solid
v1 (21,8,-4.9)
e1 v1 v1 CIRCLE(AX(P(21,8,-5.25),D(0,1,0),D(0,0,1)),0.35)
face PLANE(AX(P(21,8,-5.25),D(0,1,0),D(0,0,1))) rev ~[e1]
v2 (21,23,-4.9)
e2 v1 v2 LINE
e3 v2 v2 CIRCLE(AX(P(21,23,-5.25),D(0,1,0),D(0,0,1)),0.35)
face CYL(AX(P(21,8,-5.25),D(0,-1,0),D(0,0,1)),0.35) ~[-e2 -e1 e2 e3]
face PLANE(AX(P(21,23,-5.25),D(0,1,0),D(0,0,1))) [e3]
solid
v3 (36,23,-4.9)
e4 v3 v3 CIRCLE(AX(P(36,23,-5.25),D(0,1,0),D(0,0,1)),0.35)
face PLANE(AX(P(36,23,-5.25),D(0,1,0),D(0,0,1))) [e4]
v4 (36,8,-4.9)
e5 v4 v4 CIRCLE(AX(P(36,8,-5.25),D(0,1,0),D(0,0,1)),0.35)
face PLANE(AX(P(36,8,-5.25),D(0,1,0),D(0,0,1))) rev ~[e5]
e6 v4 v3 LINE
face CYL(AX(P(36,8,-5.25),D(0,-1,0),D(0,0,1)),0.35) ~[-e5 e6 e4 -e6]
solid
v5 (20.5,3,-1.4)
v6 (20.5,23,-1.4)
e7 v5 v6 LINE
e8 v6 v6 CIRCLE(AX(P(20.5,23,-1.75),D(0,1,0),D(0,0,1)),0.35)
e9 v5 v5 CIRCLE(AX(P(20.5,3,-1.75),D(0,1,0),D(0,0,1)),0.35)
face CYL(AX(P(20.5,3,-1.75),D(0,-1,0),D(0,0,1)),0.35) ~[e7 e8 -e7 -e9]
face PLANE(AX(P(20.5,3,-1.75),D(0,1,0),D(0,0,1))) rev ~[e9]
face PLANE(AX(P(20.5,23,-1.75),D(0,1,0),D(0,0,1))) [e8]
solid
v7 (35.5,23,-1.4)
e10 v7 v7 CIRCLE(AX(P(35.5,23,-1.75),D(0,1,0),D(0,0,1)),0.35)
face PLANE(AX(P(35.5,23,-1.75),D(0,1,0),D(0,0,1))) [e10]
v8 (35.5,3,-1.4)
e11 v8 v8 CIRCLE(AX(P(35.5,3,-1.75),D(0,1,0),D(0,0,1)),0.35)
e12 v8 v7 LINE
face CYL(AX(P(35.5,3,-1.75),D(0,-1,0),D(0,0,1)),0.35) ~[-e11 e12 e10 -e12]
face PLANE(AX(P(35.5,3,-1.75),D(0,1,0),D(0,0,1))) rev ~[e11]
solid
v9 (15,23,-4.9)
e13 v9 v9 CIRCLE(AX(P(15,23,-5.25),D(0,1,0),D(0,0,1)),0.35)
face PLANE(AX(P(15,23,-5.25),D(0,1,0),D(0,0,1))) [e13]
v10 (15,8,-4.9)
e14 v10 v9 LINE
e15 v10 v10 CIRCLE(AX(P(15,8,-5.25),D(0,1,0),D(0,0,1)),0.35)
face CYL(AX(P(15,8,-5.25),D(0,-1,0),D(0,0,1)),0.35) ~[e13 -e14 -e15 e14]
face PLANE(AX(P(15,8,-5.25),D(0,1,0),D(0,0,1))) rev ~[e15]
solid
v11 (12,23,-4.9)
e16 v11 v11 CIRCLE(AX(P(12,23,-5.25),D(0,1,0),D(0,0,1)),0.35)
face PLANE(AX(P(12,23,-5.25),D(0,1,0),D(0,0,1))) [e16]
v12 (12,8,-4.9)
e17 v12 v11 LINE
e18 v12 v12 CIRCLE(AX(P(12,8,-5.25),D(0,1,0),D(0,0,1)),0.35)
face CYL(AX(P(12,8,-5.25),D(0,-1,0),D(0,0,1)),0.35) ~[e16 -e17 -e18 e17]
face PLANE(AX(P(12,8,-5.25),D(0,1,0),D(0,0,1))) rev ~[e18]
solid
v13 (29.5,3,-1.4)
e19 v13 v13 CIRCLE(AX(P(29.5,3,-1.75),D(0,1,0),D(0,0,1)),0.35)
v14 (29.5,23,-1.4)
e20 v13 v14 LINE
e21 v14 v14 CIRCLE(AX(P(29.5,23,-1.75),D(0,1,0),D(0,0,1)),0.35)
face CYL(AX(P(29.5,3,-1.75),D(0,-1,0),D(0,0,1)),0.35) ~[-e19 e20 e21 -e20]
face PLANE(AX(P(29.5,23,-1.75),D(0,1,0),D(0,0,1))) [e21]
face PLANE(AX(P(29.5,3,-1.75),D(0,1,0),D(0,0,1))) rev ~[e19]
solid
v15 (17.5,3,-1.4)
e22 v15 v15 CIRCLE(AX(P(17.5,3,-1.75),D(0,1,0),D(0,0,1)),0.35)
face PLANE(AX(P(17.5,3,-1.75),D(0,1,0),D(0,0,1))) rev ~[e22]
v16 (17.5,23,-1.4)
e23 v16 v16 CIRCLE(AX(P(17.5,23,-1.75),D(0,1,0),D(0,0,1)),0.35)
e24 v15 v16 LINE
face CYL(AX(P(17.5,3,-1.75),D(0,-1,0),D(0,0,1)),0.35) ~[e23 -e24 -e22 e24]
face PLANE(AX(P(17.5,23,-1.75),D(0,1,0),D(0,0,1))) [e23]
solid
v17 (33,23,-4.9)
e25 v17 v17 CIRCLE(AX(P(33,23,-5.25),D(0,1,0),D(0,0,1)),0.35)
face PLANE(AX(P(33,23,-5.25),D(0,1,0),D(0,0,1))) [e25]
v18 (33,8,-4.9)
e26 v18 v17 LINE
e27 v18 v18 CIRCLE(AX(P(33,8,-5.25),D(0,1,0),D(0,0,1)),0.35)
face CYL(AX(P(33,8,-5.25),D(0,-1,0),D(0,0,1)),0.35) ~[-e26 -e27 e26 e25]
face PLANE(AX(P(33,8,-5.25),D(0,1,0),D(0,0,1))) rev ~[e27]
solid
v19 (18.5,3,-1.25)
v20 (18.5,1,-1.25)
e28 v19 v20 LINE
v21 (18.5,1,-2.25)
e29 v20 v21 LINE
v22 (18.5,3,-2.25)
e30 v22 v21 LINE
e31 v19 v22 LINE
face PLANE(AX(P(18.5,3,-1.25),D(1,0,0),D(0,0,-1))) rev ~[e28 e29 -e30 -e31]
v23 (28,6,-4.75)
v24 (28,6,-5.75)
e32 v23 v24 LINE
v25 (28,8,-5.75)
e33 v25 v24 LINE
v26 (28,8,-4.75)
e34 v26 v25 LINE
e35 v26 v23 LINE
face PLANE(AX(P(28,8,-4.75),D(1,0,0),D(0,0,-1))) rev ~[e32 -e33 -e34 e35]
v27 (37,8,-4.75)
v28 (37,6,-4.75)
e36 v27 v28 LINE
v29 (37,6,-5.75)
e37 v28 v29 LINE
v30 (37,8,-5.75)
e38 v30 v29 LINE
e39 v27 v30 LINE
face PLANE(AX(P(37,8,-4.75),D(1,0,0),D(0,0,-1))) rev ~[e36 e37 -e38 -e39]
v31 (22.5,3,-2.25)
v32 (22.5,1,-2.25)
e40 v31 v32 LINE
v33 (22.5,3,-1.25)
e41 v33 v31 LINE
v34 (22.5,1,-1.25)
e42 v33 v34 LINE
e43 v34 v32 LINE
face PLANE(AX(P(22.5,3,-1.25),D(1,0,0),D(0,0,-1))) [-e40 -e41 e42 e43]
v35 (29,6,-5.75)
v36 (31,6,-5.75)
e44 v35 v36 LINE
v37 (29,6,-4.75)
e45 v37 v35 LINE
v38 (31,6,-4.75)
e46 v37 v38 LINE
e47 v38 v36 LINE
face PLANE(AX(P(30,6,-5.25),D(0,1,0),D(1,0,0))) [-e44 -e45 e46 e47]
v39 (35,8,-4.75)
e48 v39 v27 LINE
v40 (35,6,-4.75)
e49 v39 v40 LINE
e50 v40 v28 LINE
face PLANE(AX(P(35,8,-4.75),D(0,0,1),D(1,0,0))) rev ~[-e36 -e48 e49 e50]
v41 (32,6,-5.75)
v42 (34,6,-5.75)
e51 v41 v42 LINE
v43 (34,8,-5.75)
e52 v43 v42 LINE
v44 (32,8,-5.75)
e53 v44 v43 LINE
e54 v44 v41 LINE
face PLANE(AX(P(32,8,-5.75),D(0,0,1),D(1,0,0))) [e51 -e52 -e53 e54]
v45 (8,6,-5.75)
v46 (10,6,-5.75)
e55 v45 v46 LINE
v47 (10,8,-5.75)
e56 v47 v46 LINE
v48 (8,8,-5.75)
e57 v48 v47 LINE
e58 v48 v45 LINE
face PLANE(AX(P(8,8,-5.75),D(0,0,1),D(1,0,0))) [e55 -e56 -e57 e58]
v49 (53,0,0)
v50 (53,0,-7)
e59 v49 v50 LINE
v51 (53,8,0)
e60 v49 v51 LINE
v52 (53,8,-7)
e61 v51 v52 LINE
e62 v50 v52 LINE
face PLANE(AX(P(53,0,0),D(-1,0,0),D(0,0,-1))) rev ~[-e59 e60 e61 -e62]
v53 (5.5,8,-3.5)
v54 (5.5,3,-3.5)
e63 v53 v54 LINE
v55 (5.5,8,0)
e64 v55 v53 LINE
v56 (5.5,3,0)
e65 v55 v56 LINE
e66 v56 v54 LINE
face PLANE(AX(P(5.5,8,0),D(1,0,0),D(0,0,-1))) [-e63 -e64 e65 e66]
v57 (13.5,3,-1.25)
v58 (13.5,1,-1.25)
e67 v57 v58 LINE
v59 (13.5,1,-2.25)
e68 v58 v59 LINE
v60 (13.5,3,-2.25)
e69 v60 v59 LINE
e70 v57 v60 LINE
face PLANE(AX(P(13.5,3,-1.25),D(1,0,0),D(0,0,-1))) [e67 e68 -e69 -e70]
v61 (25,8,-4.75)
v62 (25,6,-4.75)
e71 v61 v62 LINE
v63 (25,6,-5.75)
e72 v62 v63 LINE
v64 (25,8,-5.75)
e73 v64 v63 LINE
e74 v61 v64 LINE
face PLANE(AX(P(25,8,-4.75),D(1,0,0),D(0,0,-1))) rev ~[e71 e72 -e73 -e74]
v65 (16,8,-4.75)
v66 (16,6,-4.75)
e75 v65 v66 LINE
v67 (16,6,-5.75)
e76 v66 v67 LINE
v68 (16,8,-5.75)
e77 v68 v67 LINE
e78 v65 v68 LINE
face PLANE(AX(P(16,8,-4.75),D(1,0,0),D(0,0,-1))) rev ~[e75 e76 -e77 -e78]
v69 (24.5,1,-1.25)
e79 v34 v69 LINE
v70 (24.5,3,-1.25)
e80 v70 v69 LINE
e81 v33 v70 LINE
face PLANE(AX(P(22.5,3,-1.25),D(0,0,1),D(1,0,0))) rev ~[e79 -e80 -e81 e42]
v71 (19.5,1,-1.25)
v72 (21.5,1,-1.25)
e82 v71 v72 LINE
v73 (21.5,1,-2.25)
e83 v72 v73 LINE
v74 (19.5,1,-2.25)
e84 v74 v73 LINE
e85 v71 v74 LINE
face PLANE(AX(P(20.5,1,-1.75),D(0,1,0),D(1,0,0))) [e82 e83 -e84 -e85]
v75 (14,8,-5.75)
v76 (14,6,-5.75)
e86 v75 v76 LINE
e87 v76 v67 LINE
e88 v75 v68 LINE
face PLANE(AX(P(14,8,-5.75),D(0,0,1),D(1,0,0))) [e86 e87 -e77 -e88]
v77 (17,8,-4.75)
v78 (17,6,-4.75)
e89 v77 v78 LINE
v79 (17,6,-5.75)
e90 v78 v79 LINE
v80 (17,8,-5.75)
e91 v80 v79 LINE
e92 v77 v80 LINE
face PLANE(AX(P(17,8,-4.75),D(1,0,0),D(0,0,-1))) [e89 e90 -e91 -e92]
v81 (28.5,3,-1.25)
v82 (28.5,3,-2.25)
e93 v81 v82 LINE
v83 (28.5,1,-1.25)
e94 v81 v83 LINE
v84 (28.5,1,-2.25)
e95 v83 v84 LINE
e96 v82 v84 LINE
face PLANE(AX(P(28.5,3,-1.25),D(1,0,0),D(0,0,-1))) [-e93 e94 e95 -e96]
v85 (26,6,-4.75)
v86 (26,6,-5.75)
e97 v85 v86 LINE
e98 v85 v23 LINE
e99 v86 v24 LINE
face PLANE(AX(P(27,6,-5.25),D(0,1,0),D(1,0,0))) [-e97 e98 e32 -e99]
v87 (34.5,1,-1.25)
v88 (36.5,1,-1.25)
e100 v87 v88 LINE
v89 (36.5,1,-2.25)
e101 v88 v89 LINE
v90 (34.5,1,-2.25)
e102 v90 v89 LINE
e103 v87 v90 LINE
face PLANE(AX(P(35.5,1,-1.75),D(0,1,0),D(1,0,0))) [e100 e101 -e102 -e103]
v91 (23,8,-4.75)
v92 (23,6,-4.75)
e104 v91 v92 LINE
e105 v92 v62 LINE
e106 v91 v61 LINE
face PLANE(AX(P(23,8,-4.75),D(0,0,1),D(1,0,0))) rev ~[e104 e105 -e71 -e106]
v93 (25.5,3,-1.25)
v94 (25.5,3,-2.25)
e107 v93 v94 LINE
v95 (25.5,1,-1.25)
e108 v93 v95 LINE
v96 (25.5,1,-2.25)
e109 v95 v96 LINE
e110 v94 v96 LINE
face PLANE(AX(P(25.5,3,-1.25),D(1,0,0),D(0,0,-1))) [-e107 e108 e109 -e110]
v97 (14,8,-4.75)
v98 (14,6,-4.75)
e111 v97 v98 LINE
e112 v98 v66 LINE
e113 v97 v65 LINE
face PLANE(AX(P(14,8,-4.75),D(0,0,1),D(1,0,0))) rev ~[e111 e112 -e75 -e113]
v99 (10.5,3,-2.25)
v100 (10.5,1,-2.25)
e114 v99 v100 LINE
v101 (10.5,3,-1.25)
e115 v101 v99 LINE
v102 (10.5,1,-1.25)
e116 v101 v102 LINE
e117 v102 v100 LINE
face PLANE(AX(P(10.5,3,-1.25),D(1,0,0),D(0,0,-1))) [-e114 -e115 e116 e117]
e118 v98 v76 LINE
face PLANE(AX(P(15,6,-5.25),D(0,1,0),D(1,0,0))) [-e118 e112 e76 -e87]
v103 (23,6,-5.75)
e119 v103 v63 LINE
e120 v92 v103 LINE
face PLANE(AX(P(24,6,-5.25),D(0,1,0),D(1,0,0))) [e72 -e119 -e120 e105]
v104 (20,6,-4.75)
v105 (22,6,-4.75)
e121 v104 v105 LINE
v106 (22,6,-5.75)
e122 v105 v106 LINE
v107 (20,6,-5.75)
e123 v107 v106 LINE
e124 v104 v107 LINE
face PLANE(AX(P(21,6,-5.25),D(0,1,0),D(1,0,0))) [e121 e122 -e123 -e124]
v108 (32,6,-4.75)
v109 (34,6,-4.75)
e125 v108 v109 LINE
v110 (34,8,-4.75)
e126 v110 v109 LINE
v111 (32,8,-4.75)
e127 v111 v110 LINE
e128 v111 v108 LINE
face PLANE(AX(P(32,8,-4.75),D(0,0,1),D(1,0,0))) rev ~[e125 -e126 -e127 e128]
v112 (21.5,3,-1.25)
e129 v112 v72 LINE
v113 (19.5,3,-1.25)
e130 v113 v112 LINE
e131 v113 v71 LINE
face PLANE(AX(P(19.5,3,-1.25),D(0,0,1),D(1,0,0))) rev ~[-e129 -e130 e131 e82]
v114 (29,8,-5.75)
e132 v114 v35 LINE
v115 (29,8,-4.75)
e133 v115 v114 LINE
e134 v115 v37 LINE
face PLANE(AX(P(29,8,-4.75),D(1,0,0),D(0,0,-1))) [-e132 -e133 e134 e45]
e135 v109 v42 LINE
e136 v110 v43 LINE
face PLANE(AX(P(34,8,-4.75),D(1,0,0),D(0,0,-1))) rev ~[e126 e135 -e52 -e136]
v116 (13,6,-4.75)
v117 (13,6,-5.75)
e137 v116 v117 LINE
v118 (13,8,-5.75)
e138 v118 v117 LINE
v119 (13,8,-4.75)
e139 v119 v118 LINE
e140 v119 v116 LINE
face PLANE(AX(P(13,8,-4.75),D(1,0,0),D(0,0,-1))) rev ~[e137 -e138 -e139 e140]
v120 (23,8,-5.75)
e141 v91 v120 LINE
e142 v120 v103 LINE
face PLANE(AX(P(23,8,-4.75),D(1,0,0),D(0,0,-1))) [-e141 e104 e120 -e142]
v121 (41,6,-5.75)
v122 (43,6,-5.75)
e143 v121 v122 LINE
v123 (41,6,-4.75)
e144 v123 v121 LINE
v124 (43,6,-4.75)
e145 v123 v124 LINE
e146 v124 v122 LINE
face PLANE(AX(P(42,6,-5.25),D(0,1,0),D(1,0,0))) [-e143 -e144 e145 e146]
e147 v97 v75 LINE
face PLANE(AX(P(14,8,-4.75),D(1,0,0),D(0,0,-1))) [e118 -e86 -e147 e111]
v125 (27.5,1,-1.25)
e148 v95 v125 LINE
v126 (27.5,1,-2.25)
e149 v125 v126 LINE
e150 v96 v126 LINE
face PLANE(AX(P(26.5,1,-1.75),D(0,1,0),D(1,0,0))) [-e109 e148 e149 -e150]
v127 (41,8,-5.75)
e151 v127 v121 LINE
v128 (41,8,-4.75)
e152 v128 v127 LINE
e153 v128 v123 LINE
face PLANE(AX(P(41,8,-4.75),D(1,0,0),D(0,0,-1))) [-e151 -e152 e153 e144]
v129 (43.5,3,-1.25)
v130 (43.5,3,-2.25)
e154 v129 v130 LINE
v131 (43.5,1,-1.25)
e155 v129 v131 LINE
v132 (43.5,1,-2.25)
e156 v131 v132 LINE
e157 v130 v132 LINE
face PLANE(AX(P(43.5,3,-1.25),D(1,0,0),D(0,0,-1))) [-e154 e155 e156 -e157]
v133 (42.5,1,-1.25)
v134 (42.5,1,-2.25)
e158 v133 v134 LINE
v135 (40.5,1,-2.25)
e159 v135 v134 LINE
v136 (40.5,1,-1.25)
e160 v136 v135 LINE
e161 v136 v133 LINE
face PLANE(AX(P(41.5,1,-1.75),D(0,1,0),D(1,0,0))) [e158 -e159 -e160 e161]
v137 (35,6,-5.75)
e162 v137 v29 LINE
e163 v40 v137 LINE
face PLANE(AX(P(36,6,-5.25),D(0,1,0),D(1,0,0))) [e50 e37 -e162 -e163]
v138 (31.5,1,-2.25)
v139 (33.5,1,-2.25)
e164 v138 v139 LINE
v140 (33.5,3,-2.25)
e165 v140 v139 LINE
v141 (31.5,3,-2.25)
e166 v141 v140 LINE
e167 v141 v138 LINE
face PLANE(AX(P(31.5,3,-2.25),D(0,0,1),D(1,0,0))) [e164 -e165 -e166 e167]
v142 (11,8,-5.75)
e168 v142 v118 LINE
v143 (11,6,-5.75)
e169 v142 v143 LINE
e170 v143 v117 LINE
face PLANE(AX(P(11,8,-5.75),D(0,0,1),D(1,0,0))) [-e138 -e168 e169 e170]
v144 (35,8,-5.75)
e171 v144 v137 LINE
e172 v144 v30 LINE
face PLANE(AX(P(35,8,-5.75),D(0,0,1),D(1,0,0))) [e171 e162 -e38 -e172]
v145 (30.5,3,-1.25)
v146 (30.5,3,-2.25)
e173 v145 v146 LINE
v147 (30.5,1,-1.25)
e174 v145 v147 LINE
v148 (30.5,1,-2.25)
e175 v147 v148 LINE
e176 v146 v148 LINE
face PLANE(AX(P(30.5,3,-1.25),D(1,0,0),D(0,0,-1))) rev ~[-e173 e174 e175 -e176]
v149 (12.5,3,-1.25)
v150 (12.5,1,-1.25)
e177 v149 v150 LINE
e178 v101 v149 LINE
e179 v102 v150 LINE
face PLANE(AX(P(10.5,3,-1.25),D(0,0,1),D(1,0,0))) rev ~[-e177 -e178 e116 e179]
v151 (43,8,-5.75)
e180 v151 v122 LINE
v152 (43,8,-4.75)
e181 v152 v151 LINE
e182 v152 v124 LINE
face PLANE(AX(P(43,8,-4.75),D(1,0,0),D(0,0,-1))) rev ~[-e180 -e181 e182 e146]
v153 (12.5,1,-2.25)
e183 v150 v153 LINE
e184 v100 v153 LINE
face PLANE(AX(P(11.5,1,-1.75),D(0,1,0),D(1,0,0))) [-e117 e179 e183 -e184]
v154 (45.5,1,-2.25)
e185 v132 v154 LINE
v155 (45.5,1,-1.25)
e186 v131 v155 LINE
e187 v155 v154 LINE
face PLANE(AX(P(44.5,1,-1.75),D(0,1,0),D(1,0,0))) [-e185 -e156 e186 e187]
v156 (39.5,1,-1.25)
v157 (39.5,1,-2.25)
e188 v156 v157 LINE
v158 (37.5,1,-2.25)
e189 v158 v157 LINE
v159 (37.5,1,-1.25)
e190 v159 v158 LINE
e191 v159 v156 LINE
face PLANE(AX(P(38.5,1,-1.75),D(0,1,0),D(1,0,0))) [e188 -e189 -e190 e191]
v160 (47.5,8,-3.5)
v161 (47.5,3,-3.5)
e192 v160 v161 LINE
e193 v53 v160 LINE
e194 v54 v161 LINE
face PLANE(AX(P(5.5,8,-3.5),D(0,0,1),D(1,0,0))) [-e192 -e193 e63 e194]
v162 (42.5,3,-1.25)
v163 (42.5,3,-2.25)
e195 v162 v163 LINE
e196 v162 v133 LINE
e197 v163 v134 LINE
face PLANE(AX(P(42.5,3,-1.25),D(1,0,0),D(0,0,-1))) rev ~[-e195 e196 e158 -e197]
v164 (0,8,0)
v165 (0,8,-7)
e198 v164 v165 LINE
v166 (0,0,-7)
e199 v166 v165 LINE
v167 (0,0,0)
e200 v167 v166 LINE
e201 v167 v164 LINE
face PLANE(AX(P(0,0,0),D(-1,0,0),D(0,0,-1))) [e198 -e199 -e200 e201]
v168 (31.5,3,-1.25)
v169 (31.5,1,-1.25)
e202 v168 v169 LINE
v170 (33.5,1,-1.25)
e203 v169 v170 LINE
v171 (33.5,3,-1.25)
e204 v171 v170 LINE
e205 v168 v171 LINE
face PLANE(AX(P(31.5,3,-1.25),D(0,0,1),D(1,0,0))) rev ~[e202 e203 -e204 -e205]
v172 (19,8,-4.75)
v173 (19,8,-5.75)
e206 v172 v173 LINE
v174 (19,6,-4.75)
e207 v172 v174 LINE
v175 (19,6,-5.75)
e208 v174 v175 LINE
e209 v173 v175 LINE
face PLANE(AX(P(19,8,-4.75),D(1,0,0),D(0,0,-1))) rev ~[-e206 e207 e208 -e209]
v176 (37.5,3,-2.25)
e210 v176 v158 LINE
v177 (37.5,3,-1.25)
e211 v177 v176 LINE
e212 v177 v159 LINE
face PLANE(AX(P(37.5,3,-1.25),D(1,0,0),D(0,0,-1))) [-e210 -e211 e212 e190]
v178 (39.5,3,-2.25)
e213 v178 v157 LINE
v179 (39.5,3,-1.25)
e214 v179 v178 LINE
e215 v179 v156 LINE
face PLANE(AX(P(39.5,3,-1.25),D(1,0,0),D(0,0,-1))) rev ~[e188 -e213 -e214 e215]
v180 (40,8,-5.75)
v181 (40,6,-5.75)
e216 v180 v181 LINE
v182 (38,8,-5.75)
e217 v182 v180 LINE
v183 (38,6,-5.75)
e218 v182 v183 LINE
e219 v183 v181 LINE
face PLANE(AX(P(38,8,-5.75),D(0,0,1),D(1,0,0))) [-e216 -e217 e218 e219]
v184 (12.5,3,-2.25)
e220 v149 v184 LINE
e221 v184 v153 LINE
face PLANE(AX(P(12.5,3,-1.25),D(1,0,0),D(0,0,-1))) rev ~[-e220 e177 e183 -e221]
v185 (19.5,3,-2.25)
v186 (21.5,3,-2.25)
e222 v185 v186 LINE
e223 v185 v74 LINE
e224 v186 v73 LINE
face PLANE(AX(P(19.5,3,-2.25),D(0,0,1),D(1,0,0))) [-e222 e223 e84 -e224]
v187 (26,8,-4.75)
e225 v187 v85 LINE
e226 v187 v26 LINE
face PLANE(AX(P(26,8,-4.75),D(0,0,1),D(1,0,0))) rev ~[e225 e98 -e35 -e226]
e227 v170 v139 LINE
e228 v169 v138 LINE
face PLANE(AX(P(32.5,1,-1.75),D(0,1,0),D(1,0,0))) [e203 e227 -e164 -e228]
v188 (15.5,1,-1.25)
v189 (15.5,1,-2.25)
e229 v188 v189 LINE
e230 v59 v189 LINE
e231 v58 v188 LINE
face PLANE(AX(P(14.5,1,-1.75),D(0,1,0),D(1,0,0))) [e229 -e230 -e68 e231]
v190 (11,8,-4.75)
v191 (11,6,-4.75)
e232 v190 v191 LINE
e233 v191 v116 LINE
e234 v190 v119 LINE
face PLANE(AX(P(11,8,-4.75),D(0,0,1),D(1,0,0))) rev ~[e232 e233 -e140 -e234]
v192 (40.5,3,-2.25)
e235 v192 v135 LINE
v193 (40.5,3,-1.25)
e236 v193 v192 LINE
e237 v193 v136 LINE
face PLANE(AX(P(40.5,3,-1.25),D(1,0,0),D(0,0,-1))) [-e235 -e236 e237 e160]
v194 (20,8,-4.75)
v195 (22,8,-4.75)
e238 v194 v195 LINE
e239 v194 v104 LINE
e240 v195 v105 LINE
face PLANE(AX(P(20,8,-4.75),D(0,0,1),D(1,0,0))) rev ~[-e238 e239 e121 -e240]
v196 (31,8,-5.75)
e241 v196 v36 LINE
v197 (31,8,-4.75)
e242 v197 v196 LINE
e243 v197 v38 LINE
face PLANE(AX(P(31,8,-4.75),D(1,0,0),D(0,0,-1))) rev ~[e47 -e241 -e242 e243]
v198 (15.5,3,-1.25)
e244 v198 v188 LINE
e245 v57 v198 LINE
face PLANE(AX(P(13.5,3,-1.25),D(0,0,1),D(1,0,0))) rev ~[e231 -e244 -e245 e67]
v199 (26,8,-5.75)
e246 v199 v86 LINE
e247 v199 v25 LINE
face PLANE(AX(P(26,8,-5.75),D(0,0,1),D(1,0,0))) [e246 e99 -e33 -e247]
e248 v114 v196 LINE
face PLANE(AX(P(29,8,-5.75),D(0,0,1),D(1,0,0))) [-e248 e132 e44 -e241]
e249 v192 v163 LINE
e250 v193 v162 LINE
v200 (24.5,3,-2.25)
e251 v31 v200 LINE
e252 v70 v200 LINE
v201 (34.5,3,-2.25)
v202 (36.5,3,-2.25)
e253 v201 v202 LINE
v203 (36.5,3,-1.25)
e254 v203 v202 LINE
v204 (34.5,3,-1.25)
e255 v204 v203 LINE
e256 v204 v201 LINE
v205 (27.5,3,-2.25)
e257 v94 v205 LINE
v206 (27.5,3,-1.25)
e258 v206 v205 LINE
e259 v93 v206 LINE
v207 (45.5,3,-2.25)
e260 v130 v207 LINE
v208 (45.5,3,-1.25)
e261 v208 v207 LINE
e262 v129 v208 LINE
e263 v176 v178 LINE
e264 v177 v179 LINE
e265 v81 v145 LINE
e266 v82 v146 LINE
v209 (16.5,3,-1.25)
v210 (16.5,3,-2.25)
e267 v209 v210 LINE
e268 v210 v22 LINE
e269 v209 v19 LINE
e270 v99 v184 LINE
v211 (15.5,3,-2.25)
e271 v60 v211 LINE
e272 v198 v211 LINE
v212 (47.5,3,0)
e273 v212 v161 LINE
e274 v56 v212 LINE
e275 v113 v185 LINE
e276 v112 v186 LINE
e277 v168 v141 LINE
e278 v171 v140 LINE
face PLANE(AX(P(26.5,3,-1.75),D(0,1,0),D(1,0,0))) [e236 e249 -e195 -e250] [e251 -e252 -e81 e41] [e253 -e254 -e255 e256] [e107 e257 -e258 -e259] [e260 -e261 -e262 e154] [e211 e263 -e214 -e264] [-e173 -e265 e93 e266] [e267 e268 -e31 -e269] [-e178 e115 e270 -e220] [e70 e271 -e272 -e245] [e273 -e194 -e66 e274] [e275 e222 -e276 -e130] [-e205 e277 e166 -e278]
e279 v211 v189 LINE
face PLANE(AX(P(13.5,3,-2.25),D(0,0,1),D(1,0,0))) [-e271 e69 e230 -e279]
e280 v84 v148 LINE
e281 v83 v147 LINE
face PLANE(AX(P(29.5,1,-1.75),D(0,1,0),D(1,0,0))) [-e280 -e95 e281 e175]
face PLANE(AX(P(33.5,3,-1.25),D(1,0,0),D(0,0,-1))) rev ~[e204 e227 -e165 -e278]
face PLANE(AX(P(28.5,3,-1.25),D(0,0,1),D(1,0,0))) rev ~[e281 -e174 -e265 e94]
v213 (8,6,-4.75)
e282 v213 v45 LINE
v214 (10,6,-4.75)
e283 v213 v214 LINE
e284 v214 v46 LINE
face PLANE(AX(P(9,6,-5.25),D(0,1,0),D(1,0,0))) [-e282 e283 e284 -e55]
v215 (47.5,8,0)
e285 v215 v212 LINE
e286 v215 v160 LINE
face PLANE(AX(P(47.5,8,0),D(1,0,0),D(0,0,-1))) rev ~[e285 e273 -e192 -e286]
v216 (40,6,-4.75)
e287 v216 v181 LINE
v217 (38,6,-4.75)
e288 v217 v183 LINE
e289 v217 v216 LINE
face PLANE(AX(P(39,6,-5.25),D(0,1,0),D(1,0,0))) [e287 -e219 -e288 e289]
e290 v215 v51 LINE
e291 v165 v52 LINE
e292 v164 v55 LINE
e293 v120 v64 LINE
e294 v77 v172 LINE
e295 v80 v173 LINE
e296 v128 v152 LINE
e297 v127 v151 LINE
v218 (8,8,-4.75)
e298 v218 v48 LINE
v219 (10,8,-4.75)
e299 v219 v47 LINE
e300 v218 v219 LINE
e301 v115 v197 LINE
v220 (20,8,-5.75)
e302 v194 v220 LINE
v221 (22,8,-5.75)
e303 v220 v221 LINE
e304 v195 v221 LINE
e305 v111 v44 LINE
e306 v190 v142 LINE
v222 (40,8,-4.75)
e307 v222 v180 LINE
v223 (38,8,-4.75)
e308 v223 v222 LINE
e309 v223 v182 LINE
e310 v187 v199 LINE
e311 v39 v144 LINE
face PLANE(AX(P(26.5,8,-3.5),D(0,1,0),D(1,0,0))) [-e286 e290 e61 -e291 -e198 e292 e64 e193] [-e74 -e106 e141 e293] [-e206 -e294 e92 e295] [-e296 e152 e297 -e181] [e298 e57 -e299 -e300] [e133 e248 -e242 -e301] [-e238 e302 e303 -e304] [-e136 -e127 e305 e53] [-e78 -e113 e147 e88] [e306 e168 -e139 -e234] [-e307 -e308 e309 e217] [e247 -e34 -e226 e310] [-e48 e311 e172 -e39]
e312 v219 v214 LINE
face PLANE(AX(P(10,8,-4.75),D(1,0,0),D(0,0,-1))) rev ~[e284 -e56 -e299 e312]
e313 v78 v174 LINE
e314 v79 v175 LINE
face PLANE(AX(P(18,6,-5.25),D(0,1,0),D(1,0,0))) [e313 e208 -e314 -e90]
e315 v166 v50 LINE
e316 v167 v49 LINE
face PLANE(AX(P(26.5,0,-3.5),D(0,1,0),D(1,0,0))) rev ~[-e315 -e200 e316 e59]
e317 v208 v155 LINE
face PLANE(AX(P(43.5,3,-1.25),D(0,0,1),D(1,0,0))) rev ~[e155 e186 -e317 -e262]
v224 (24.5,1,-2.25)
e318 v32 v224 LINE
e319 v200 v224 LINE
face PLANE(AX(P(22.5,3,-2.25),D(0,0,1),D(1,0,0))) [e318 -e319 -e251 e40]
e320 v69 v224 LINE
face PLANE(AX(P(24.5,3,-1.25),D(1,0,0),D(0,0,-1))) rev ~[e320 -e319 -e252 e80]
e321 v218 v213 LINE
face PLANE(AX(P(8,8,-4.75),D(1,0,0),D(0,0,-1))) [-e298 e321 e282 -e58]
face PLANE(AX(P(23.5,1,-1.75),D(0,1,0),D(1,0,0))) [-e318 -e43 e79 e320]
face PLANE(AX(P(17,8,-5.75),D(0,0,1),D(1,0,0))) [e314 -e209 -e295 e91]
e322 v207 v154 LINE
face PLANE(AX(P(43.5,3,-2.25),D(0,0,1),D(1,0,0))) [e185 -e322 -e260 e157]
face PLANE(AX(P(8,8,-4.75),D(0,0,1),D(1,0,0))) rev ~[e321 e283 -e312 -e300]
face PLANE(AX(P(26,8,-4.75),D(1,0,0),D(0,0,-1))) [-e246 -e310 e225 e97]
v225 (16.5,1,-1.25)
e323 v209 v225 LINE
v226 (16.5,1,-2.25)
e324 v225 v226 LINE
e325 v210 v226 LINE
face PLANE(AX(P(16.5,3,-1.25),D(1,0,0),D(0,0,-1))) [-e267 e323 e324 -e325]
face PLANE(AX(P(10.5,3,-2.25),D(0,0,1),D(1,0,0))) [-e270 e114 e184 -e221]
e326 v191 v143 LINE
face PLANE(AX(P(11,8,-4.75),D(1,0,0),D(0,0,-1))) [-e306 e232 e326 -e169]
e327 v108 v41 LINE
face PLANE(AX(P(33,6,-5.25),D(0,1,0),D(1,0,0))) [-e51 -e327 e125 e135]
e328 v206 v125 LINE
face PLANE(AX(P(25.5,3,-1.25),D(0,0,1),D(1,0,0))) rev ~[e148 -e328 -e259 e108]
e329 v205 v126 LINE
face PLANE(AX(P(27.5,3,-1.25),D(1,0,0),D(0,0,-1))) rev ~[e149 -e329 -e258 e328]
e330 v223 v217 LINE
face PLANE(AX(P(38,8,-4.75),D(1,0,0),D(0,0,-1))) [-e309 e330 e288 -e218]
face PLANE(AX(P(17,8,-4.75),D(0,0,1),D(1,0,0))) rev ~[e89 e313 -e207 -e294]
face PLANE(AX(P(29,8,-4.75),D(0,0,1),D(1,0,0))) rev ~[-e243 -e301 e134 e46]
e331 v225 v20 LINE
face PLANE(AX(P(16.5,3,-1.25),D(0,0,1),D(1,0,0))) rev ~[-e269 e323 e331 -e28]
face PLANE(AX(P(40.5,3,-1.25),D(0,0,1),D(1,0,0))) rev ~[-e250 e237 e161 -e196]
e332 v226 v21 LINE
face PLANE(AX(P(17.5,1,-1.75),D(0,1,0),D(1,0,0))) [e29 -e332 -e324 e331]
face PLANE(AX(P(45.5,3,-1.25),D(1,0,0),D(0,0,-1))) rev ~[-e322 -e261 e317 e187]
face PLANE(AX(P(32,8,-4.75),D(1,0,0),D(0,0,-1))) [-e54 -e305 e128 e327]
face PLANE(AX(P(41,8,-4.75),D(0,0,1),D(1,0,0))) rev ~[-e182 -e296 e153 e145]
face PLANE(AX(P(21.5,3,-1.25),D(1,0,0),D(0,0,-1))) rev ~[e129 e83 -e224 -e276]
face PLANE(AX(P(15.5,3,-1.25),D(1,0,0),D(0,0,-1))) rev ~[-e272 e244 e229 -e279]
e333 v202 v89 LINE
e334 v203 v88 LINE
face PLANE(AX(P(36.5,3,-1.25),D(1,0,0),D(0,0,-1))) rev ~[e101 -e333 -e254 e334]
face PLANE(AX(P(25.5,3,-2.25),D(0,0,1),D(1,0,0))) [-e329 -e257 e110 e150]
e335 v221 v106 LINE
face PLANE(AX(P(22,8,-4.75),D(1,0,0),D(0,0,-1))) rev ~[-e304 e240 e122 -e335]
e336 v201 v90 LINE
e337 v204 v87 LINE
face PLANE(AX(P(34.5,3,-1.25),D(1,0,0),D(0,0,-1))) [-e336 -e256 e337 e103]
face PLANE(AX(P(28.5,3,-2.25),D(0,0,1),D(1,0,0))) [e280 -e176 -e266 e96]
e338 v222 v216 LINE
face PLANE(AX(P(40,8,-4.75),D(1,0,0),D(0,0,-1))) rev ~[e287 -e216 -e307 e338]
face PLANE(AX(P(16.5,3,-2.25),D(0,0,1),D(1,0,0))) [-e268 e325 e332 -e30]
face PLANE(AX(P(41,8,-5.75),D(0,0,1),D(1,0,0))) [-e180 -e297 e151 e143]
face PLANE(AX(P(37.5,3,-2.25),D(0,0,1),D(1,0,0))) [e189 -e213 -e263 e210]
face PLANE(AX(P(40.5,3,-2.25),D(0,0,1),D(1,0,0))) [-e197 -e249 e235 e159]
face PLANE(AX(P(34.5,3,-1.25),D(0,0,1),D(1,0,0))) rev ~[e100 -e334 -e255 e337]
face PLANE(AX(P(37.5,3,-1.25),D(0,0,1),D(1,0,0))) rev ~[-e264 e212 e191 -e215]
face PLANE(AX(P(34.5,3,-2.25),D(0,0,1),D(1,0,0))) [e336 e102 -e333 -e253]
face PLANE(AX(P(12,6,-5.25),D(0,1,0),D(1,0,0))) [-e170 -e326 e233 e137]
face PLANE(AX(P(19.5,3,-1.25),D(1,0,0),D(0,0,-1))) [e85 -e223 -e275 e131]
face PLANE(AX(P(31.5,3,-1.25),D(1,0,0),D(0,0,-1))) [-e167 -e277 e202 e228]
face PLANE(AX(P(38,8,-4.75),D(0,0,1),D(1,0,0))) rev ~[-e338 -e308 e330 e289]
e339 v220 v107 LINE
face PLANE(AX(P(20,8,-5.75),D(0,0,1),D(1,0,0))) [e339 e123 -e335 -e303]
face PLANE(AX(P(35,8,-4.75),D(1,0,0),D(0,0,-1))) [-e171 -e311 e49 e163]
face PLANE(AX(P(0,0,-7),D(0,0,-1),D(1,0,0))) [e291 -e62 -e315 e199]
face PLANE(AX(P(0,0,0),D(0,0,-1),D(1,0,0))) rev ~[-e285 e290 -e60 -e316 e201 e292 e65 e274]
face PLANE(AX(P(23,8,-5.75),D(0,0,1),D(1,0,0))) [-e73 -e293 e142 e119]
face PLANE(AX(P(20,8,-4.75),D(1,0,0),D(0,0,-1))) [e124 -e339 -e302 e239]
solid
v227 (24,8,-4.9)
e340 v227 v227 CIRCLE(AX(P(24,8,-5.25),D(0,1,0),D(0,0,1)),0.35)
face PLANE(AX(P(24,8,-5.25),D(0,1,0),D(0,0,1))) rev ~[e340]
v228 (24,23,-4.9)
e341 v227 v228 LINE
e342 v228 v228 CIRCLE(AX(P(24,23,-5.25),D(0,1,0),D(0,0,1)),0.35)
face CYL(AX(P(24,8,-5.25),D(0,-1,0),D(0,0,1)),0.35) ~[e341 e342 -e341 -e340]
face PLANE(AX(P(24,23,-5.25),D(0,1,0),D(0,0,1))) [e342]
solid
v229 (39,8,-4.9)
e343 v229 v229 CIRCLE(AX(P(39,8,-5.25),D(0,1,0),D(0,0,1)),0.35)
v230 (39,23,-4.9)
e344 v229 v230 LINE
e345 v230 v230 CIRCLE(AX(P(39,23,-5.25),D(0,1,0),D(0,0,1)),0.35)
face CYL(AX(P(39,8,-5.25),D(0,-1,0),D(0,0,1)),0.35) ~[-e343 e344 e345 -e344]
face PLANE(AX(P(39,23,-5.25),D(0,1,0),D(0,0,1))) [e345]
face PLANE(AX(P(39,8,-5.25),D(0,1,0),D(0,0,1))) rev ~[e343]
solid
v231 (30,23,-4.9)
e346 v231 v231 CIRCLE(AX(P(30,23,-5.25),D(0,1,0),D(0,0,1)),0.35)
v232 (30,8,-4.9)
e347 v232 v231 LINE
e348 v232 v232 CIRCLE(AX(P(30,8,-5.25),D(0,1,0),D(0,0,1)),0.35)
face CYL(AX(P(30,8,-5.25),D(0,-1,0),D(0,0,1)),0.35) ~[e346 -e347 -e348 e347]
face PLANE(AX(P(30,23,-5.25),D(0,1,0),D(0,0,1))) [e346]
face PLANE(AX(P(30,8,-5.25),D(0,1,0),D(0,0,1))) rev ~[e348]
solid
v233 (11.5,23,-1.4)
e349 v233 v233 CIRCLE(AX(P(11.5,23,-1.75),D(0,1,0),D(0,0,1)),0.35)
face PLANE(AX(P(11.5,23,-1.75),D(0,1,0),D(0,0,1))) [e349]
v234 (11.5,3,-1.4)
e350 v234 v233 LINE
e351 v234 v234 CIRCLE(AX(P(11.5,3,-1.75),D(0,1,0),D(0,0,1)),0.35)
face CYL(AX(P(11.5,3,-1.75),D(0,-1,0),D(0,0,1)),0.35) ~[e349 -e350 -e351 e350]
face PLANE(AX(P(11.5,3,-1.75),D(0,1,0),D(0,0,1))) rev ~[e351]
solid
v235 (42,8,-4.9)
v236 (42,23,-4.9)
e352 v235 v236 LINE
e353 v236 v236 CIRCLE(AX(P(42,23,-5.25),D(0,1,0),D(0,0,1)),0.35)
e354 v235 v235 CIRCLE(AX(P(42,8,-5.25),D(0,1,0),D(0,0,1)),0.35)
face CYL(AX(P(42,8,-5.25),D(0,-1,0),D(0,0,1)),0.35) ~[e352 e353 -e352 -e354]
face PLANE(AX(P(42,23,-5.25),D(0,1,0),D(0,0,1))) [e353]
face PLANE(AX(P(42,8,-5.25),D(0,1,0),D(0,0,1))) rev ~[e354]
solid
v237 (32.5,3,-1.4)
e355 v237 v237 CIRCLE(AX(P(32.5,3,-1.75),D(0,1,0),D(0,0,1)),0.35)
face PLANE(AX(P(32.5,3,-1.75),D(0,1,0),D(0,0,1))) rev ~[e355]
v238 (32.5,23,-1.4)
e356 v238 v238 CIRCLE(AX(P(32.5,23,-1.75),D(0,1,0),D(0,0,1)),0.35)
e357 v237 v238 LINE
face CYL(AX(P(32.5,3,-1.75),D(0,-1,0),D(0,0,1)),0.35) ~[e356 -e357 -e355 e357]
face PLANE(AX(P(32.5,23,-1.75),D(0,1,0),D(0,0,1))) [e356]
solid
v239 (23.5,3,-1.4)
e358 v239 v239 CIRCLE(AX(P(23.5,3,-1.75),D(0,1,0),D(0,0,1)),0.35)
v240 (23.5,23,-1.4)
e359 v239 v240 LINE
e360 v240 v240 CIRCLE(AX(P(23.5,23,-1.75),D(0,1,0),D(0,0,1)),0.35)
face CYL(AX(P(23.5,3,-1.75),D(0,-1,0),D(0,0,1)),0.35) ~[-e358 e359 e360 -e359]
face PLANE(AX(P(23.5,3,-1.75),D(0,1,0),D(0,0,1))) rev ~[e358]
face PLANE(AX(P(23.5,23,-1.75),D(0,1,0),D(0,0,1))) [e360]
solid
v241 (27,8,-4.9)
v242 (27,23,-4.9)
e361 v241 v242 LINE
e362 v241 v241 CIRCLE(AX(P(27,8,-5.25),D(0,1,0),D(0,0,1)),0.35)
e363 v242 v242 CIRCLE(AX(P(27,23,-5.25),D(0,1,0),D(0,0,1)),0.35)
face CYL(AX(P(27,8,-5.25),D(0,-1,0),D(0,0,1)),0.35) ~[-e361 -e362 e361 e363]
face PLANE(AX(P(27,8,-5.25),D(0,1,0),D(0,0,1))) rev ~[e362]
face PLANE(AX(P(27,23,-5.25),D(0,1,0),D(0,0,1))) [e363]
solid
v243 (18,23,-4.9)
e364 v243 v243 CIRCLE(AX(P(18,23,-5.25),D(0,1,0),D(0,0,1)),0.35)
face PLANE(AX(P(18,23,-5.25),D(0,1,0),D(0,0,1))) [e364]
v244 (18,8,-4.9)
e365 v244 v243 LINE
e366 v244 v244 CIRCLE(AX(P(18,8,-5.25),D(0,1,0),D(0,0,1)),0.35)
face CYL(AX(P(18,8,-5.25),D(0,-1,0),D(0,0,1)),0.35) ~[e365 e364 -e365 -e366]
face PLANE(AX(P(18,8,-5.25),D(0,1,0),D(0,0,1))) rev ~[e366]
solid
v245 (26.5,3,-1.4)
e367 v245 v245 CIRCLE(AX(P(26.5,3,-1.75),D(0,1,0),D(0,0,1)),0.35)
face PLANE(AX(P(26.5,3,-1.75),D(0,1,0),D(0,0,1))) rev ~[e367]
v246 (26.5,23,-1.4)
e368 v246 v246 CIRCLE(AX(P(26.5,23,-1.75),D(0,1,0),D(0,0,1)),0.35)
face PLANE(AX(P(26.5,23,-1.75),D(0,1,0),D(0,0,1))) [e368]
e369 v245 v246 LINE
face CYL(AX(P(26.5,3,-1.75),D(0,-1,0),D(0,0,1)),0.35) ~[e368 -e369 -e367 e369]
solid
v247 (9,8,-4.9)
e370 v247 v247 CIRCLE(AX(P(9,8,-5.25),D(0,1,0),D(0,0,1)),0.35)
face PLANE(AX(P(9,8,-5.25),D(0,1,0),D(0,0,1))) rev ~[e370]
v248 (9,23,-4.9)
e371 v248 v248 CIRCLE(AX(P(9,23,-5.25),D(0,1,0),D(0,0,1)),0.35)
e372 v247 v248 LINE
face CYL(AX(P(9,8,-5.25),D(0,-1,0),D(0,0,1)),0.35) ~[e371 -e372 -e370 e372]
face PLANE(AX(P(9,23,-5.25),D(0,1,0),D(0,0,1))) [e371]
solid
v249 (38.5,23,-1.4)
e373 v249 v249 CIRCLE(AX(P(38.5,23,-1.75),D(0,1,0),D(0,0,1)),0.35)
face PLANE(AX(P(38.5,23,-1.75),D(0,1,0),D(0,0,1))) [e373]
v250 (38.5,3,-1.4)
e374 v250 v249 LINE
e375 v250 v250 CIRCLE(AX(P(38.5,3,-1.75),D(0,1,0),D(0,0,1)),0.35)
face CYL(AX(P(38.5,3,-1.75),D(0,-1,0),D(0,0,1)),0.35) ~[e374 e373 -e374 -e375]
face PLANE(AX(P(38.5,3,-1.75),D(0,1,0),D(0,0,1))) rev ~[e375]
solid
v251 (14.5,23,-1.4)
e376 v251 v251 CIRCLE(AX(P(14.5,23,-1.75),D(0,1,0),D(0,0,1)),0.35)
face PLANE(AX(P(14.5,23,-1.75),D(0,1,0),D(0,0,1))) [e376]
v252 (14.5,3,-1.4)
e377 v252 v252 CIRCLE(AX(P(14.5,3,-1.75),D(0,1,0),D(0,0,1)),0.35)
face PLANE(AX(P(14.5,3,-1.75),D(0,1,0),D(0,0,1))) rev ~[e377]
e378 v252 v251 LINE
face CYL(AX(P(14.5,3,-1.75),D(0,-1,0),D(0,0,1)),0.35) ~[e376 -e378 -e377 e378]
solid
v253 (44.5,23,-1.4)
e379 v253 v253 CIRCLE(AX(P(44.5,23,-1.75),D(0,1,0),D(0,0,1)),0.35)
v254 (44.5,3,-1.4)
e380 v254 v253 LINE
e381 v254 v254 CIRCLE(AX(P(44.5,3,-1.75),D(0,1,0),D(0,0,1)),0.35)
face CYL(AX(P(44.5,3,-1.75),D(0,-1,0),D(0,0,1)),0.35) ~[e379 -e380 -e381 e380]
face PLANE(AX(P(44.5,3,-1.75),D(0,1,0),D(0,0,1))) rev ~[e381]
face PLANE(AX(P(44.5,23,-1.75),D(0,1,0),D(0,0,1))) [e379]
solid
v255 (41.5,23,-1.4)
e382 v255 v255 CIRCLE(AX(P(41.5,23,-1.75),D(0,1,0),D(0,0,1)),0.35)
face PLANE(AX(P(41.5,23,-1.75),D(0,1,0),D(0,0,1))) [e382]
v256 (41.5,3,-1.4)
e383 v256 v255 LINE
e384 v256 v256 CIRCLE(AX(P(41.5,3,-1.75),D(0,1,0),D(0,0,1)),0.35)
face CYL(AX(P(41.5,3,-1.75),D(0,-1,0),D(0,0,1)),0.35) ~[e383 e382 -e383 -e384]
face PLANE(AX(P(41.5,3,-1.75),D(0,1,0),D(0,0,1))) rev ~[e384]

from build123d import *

# Parameters (mm, degrees)
SKETCH1_W               = 53
SKETCH1_H               = 7
BOSS_EXTRUDE2_DEPTH     = 8
SKETCH2_W               = 42
SKETCH2_H               = 3.5
CUT_EXTRUDE1_DEPTH      = 5
SKETCH3_W               = 2
SKETCH3_H               = 1
CUT_EXTRUDE2_DEPTH      = 2
SKETCH4_W               = 2
SKETCH4_H               = 1
CUT_EXTRUDE3_DEPTH      = 2
SKETCH5_R               = 0.35
BOSS_EXTRUDE8_DEPTH     = 20
BOSS_EXTRUDE8_2_DEPTH   = 20
BOSS_EXTRUDE8_3_DEPTH   = 20
BOSS_EXTRUDE8_4_DEPTH   = 20
BOSS_EXTRUDE8_5_DEPTH   = 20
BOSS_EXTRUDE8_6_DEPTH   = 20
BOSS_EXTRUDE8_7_DEPTH   = 20
BOSS_EXTRUDE8_8_DEPTH   = 20
BOSS_EXTRUDE8_9_DEPTH   = 20
BOSS_EXTRUDE8_10_DEPTH  = 20
BOSS_EXTRUDE8_11_DEPTH  = 20
BOSS_EXTRUDE8_12_DEPTH  = 20
SKETCH6_R               = 0.35
BOSS_EXTRUDE11_DEPTH    = 15
BOSS_EXTRUDE11_2_DEPTH  = 15
BOSS_EXTRUDE11_3_DEPTH  = 15
BOSS_EXTRUDE11_4_DEPTH  = 15
BOSS_EXTRUDE11_5_DEPTH  = 15
BOSS_EXTRUDE11_6_DEPTH  = 15
BOSS_EXTRUDE11_7_DEPTH  = 15
BOSS_EXTRUDE11_8_DEPTH  = 15
BOSS_EXTRUDE11_9_DEPTH  = 15
BOSS_EXTRUDE11_10_DEPTH = 15
BOSS_EXTRUDE11_11_DEPTH = 15
BOSS_EXTRUDE11_12_DEPTH = 15


with BuildPart() as part:
    # Sketch1 → Boss-Extrude2 (new body)
    with BuildSketch(Plane(origin=(0, 0, 0), x_dir=(1, 0, 0), z_dir=(0, 1, 0))):
        with Locations((26.5, 3.5)):
            Rectangle(SKETCH1_W, SKETCH1_H)
    extrude(amount=BOSS_EXTRUDE2_DEPTH)

    # Sketch2 → Cut-Extrude1 (cut)
    with BuildSketch(Plane(origin=(0, 8, 0), x_dir=(1, 0, 0), z_dir=(0, 1, 0))):
        with Locations((26.5, 1.75)):
            Rectangle(SKETCH2_W, SKETCH2_H)
    extrude(amount=-CUT_EXTRUDE1_DEPTH, mode=Mode.SUBTRACT)

    # Sketch3 → Cut-Extrude2 (cut)
    with BuildSketch(Plane(origin=(0, 8, 0), x_dir=(1, 0, 0), z_dir=(0, 1, 0))):
        with Locations((44.5, 1.75)):
            Rectangle(SKETCH3_W, SKETCH3_H)
        with Locations((42, 5.25)):
            Rectangle(SKETCH3_W, SKETCH3_H)
        with Locations((41.5, 1.75)):
            Rectangle(SKETCH3_W, SKETCH3_H)
        with Locations((39, 5.25)):
            Rectangle(SKETCH3_W, SKETCH3_H)
        with Locations((38.5, 1.75)):
            Rectangle(SKETCH3_W, SKETCH3_H)
        with Locations((36, 5.25)):
            Rectangle(SKETCH3_W, SKETCH3_H)
        with Locations((35.5, 1.75)):
            Rectangle(SKETCH3_W, SKETCH3_H)
        with Locations((33, 5.25)):
            Rectangle(SKETCH3_W, SKETCH3_H)
        with Locations((32.5, 1.75)):
            Rectangle(SKETCH3_W, SKETCH3_H)
        with Locations((30, 5.25)):
            Rectangle(SKETCH3_W, SKETCH3_H)
        with Locations((29.5, 1.75)):
            Rectangle(SKETCH3_W, SKETCH3_H)
        with Locations((27, 5.25)):
            Rectangle(SKETCH3_W, SKETCH3_H)
        with Locations((26.5, 1.75)):
            Rectangle(SKETCH3_W, SKETCH3_H)
        with Locations((24, 5.25)):
            Rectangle(SKETCH3_W, SKETCH3_H)
        with Locations((23.5, 1.75)):
            Rectangle(SKETCH3_W, SKETCH3_H)
        with Locations((21, 5.25)):
            Rectangle(SKETCH3_W, SKETCH3_H)
        with Locations((20.5, 1.75)):
            Rectangle(SKETCH3_W, SKETCH3_H)
        with Locations((18, 5.25)):
            Rectangle(SKETCH3_W, SKETCH3_H)
        with Locations((17.5, 1.75)):
            Rectangle(SKETCH3_W, SKETCH3_H)
        with Locations((15, 5.25)):
            Rectangle(SKETCH3_W, SKETCH3_H)
        with Locations((14.5, 1.75)):
            Rectangle(SKETCH3_W, SKETCH3_H)
        with Locations((12, 5.25)):
            Rectangle(SKETCH3_W, SKETCH3_H)
        with Locations((11.5, 1.75)):
            Rectangle(SKETCH3_W, SKETCH3_H)
        with Locations((9, 5.25)):
            Rectangle(SKETCH3_W, SKETCH3_H)
    extrude(amount=-CUT_EXTRUDE2_DEPTH, mode=Mode.SUBTRACT)

    # Sketch4 → Cut-Extrude3 (cut)
    with BuildSketch(Plane(origin=(0, 3, 0), x_dir=(1, 0, 0), z_dir=(0, 1, 0))):
        with Locations((44.5, 1.75)):
            Rectangle(SKETCH4_W, SKETCH4_H)
        with Locations((41.5, 1.75)):
            Rectangle(SKETCH4_W, SKETCH4_H)
        with Locations((38.5, 1.75)):
            Rectangle(SKETCH4_W, SKETCH4_H)
        with Locations((35.5, 1.75)):
            Rectangle(SKETCH4_W, SKETCH4_H)
        with Locations((32.5, 1.75)):
            Rectangle(SKETCH4_W, SKETCH4_H)
        with Locations((29.5, 1.75)):
            Rectangle(SKETCH4_W, SKETCH4_H)
        with Locations((26.5, 1.75)):
            Rectangle(SKETCH4_W, SKETCH4_H)
        with Locations((23.5, 1.75)):
            Rectangle(SKETCH4_W, SKETCH4_H)
        with Locations((20.5, 1.75)):
            Rectangle(SKETCH4_W, SKETCH4_H)
        with Locations((17.5, 1.75)):
            Rectangle(SKETCH4_W, SKETCH4_H)
        with Locations((14.5, 1.75)):
            Rectangle(SKETCH4_W, SKETCH4_H)
        with Locations((11.5, 1.75)):
            Rectangle(SKETCH4_W, SKETCH4_H)
    extrude(amount=-CUT_EXTRUDE3_DEPTH, mode=Mode.SUBTRACT)


with BuildPart() as body_2:
    # Sketch5 → Boss-Extrude8 (new body)
    with BuildSketch(Plane(origin=(0, 3, 0), x_dir=(1, 0, 0), z_dir=(0, 1, 0))):
        with Locations(Location((44.5, 1.75, 0), (0, 0, 270))):
            Circle(SKETCH5_R)
    extrude(amount=BOSS_EXTRUDE8_DEPTH)


with BuildPart() as body_3:
    # Sketch5 → Boss-Extrude8 2 (new body)
    with BuildSketch(Plane(origin=(0, 3, 0), x_dir=(1, 0, 0), z_dir=(0, 1, 0))):
        with Locations(Location((41.5, 1.75, 0), (0, 0, 270))):
            Circle(SKETCH5_R)
    extrude(amount=BOSS_EXTRUDE8_2_DEPTH)


with BuildPart() as body_4:
    # Sketch5 → Boss-Extrude8 3 (new body)
    with BuildSketch(Plane(origin=(0, 3, 0), x_dir=(1, 0, 0), z_dir=(0, 1, 0))):
        with Locations(Location((38.5, 1.75, 0), (0, 0, 270))):
            Circle(SKETCH5_R)
    extrude(amount=BOSS_EXTRUDE8_3_DEPTH)


with BuildPart() as body_5:
    # Sketch5 → Boss-Extrude8 4 (new body)
    with BuildSketch(Plane(origin=(0, 3, 0), x_dir=(1, 0, 0), z_dir=(0, 1, 0))):
        with Locations(Location((35.5, 1.75, 0), (0, 0, 270))):
            Circle(SKETCH5_R)
    extrude(amount=BOSS_EXTRUDE8_4_DEPTH)


with BuildPart() as body_6:
    # Sketch5 → Boss-Extrude8 5 (new body)
    with BuildSketch(Plane(origin=(0, 3, 0), x_dir=(1, 0, 0), z_dir=(0, 1, 0))):
        with Locations(Location((32.5, 1.75, 0), (0, 0, 270))):
            Circle(SKETCH5_R)
    extrude(amount=BOSS_EXTRUDE8_5_DEPTH)


with BuildPart() as body_7:
    # Sketch5 → Boss-Extrude8 6 (new body)
    with BuildSketch(Plane(origin=(0, 3, 0), x_dir=(1, 0, 0), z_dir=(0, 1, 0))):
        with Locations(Location((29.5, 1.75, 0), (0, 0, 270))):
            Circle(SKETCH5_R)
    extrude(amount=BOSS_EXTRUDE8_6_DEPTH)


with BuildPart() as body_8:
    # Sketch5 → Boss-Extrude8 7 (new body)
    with BuildSketch(Plane(origin=(0, 3, 0), x_dir=(1, 0, 0), z_dir=(0, 1, 0))):
        with Locations(Location((26.5, 1.75, 0), (0, 0, 270))):
            Circle(SKETCH5_R)
    extrude(amount=BOSS_EXTRUDE8_7_DEPTH)


with BuildPart() as body_9:
    # Sketch5 → Boss-Extrude8 8 (new body)
    with BuildSketch(Plane(origin=(0, 3, 0), x_dir=(1, 0, 0), z_dir=(0, 1, 0))):
        with Locations(Location((23.5, 1.75, 0), (0, 0, 270))):
            Circle(SKETCH5_R)
    extrude(amount=BOSS_EXTRUDE8_8_DEPTH)


with BuildPart() as body_10:
    # Sketch5 → Boss-Extrude8 9 (new body)
    with BuildSketch(Plane(origin=(0, 3, 0), x_dir=(1, 0, 0), z_dir=(0, 1, 0))):
        with Locations(Location((20.5, 1.75, 0), (0, 0, 270))):
            Circle(SKETCH5_R)
    extrude(amount=BOSS_EXTRUDE8_9_DEPTH)


with BuildPart() as body_11:
    # Sketch5 → Boss-Extrude8 10 (new body)
    with BuildSketch(Plane(origin=(0, 3, 0), x_dir=(1, 0, 0), z_dir=(0, 1, 0))):
        with Locations(Location((17.5, 1.75, 0), (0, 0, 270))):
            Circle(SKETCH5_R)
    extrude(amount=BOSS_EXTRUDE8_10_DEPTH)


with BuildPart() as body_12:
    # Sketch5 → Boss-Extrude8 11 (new body)
    with BuildSketch(Plane(origin=(0, 3, 0), x_dir=(1, 0, 0), z_dir=(0, 1, 0))):
        with Locations(Location((14.5, 1.75, 0), (0, 0, 270))):
            Circle(SKETCH5_R)
    extrude(amount=BOSS_EXTRUDE8_11_DEPTH)


with BuildPart() as body_13:
    # Sketch5 → Boss-Extrude8 12 (new body)
    with BuildSketch(Plane(origin=(0, 3, 0), x_dir=(1, 0, 0), z_dir=(0, 1, 0))):
        with Locations(Location((11.5, 1.75, 0), (0, 0, 270))):
            Circle(SKETCH5_R)
    extrude(amount=BOSS_EXTRUDE8_12_DEPTH)


with BuildPart() as body_14:
    # Sketch6 → Boss-Extrude11 (new body)
    with BuildSketch(Plane(origin=(0, 8, 0), x_dir=(1, 0, 0), z_dir=(0, 1, 0))):
        with Locations(Location((42, 5.25, 0), (0, 0, 270))):
            Circle(SKETCH6_R)
    extrude(amount=BOSS_EXTRUDE11_DEPTH)


with BuildPart() as body_15:
    # Sketch6 → Boss-Extrude11 2 (new body)
    with BuildSketch(Plane(origin=(0, 8, 0), x_dir=(1, 0, 0), z_dir=(0, 1, 0))):
        with Locations(Location((39, 5.25, 0), (0, 0, 270))):
            Circle(SKETCH6_R)
    extrude(amount=BOSS_EXTRUDE11_2_DEPTH)


with BuildPart() as body_16:
    # Sketch6 → Boss-Extrude11 3 (new body)
    with BuildSketch(Plane(origin=(0, 8, 0), x_dir=(1, 0, 0), z_dir=(0, 1, 0))):
        with Locations(Location((36, 5.25, 0), (0, 0, 270))):
            Circle(SKETCH6_R)
    extrude(amount=BOSS_EXTRUDE11_3_DEPTH)


with BuildPart() as body_17:
    # Sketch6 → Boss-Extrude11 4 (new body)
    with BuildSketch(Plane(origin=(0, 8, 0), x_dir=(1, 0, 0), z_dir=(0, 1, 0))):
        with Locations(Location((33, 5.25, 0), (0, 0, 270))):
            Circle(SKETCH6_R)
    extrude(amount=BOSS_EXTRUDE11_4_DEPTH)


with BuildPart() as body_18:
    # Sketch6 → Boss-Extrude11 5 (new body)
    with BuildSketch(Plane(origin=(0, 8, 0), x_dir=(1, 0, 0), z_dir=(0, 1, 0))):
        with Locations(Location((30, 5.25, 0), (0, 0, 270))):
            Circle(SKETCH6_R)
    extrude(amount=BOSS_EXTRUDE11_5_DEPTH)


with BuildPart() as body_19:
    # Sketch6 → Boss-Extrude11 6 (new body)
    with BuildSketch(Plane(origin=(0, 8, 0), x_dir=(1, 0, 0), z_dir=(0, 1, 0))):
        with Locations(Location((27, 5.25, 0), (0, 0, 270))):
            Circle(SKETCH6_R)
    extrude(amount=BOSS_EXTRUDE11_6_DEPTH)


with BuildPart() as body_20:
    # Sketch6 → Boss-Extrude11 7 (new body)
    with BuildSketch(Plane(origin=(0, 8, 0), x_dir=(1, 0, 0), z_dir=(0, 1, 0))):
        with Locations(Location((24, 5.25, 0), (0, 0, 270))):
            Circle(SKETCH6_R)
    extrude(amount=BOSS_EXTRUDE11_7_DEPTH)


with BuildPart() as body_21:
    # Sketch6 → Boss-Extrude11 8 (new body)
    with BuildSketch(Plane(origin=(0, 8, 0), x_dir=(1, 0, 0), z_dir=(0, 1, 0))):
        with Locations(Location((21, 5.25, 0), (0, 0, 270))):
            Circle(SKETCH6_R)
    extrude(amount=BOSS_EXTRUDE11_8_DEPTH)


with BuildPart() as body_22:
    # Sketch6 → Boss-Extrude11 9 (new body)
    with BuildSketch(Plane(origin=(0, 8, 0), x_dir=(1, 0, 0), z_dir=(0, 1, 0))):
        with Locations(Location((18, 5.25, 0), (0, 0, 270))):
            Circle(SKETCH6_R)
    extrude(amount=BOSS_EXTRUDE11_9_DEPTH)


with BuildPart() as body_23:
    # Sketch6 → Boss-Extrude11 10 (new body)
    with BuildSketch(Plane(origin=(0, 8, 0), x_dir=(1, 0, 0), z_dir=(0, 1, 0))):
        with Locations(Location((15, 5.25, 0), (0, 0, 270))):
            Circle(SKETCH6_R)
    extrude(amount=BOSS_EXTRUDE11_10_DEPTH)


with BuildPart() as body_24:
    # Sketch6 → Boss-Extrude11 11 (new body)
    with BuildSketch(Plane(origin=(0, 8, 0), x_dir=(1, 0, 0), z_dir=(0, 1, 0))):
        with Locations(Location((12, 5.25, 0), (0, 0, 270))):
            Circle(SKETCH6_R)
    extrude(amount=BOSS_EXTRUDE11_11_DEPTH)


with BuildPart() as body_25:
    # Sketch6 → Boss-Extrude11 12 (new body)
    with BuildSketch(Plane(origin=(0, 8, 0), x_dir=(1, 0, 0), z_dir=(0, 1, 0))):
        with Locations(Location((9, 5.25, 0), (0, 0, 270))):
            Circle(SKETCH6_R)
    extrude(amount=BOSS_EXTRUDE11_12_DEPTH)


solid = Compound([part.part, body_2.part, body_3.part, body_4.part, body_5.part, body_6.part, body_7.part, body_8.part, body_9.part, body_10.part, body_11.part, body_12.part, body_13.part, body_14.part, body_15.part, body_16.part, body_17.part, body_18.part, body_19.part, body_20.part, body_21.part, body_22.part, body_23.part, body_24.part, body_25.part])
